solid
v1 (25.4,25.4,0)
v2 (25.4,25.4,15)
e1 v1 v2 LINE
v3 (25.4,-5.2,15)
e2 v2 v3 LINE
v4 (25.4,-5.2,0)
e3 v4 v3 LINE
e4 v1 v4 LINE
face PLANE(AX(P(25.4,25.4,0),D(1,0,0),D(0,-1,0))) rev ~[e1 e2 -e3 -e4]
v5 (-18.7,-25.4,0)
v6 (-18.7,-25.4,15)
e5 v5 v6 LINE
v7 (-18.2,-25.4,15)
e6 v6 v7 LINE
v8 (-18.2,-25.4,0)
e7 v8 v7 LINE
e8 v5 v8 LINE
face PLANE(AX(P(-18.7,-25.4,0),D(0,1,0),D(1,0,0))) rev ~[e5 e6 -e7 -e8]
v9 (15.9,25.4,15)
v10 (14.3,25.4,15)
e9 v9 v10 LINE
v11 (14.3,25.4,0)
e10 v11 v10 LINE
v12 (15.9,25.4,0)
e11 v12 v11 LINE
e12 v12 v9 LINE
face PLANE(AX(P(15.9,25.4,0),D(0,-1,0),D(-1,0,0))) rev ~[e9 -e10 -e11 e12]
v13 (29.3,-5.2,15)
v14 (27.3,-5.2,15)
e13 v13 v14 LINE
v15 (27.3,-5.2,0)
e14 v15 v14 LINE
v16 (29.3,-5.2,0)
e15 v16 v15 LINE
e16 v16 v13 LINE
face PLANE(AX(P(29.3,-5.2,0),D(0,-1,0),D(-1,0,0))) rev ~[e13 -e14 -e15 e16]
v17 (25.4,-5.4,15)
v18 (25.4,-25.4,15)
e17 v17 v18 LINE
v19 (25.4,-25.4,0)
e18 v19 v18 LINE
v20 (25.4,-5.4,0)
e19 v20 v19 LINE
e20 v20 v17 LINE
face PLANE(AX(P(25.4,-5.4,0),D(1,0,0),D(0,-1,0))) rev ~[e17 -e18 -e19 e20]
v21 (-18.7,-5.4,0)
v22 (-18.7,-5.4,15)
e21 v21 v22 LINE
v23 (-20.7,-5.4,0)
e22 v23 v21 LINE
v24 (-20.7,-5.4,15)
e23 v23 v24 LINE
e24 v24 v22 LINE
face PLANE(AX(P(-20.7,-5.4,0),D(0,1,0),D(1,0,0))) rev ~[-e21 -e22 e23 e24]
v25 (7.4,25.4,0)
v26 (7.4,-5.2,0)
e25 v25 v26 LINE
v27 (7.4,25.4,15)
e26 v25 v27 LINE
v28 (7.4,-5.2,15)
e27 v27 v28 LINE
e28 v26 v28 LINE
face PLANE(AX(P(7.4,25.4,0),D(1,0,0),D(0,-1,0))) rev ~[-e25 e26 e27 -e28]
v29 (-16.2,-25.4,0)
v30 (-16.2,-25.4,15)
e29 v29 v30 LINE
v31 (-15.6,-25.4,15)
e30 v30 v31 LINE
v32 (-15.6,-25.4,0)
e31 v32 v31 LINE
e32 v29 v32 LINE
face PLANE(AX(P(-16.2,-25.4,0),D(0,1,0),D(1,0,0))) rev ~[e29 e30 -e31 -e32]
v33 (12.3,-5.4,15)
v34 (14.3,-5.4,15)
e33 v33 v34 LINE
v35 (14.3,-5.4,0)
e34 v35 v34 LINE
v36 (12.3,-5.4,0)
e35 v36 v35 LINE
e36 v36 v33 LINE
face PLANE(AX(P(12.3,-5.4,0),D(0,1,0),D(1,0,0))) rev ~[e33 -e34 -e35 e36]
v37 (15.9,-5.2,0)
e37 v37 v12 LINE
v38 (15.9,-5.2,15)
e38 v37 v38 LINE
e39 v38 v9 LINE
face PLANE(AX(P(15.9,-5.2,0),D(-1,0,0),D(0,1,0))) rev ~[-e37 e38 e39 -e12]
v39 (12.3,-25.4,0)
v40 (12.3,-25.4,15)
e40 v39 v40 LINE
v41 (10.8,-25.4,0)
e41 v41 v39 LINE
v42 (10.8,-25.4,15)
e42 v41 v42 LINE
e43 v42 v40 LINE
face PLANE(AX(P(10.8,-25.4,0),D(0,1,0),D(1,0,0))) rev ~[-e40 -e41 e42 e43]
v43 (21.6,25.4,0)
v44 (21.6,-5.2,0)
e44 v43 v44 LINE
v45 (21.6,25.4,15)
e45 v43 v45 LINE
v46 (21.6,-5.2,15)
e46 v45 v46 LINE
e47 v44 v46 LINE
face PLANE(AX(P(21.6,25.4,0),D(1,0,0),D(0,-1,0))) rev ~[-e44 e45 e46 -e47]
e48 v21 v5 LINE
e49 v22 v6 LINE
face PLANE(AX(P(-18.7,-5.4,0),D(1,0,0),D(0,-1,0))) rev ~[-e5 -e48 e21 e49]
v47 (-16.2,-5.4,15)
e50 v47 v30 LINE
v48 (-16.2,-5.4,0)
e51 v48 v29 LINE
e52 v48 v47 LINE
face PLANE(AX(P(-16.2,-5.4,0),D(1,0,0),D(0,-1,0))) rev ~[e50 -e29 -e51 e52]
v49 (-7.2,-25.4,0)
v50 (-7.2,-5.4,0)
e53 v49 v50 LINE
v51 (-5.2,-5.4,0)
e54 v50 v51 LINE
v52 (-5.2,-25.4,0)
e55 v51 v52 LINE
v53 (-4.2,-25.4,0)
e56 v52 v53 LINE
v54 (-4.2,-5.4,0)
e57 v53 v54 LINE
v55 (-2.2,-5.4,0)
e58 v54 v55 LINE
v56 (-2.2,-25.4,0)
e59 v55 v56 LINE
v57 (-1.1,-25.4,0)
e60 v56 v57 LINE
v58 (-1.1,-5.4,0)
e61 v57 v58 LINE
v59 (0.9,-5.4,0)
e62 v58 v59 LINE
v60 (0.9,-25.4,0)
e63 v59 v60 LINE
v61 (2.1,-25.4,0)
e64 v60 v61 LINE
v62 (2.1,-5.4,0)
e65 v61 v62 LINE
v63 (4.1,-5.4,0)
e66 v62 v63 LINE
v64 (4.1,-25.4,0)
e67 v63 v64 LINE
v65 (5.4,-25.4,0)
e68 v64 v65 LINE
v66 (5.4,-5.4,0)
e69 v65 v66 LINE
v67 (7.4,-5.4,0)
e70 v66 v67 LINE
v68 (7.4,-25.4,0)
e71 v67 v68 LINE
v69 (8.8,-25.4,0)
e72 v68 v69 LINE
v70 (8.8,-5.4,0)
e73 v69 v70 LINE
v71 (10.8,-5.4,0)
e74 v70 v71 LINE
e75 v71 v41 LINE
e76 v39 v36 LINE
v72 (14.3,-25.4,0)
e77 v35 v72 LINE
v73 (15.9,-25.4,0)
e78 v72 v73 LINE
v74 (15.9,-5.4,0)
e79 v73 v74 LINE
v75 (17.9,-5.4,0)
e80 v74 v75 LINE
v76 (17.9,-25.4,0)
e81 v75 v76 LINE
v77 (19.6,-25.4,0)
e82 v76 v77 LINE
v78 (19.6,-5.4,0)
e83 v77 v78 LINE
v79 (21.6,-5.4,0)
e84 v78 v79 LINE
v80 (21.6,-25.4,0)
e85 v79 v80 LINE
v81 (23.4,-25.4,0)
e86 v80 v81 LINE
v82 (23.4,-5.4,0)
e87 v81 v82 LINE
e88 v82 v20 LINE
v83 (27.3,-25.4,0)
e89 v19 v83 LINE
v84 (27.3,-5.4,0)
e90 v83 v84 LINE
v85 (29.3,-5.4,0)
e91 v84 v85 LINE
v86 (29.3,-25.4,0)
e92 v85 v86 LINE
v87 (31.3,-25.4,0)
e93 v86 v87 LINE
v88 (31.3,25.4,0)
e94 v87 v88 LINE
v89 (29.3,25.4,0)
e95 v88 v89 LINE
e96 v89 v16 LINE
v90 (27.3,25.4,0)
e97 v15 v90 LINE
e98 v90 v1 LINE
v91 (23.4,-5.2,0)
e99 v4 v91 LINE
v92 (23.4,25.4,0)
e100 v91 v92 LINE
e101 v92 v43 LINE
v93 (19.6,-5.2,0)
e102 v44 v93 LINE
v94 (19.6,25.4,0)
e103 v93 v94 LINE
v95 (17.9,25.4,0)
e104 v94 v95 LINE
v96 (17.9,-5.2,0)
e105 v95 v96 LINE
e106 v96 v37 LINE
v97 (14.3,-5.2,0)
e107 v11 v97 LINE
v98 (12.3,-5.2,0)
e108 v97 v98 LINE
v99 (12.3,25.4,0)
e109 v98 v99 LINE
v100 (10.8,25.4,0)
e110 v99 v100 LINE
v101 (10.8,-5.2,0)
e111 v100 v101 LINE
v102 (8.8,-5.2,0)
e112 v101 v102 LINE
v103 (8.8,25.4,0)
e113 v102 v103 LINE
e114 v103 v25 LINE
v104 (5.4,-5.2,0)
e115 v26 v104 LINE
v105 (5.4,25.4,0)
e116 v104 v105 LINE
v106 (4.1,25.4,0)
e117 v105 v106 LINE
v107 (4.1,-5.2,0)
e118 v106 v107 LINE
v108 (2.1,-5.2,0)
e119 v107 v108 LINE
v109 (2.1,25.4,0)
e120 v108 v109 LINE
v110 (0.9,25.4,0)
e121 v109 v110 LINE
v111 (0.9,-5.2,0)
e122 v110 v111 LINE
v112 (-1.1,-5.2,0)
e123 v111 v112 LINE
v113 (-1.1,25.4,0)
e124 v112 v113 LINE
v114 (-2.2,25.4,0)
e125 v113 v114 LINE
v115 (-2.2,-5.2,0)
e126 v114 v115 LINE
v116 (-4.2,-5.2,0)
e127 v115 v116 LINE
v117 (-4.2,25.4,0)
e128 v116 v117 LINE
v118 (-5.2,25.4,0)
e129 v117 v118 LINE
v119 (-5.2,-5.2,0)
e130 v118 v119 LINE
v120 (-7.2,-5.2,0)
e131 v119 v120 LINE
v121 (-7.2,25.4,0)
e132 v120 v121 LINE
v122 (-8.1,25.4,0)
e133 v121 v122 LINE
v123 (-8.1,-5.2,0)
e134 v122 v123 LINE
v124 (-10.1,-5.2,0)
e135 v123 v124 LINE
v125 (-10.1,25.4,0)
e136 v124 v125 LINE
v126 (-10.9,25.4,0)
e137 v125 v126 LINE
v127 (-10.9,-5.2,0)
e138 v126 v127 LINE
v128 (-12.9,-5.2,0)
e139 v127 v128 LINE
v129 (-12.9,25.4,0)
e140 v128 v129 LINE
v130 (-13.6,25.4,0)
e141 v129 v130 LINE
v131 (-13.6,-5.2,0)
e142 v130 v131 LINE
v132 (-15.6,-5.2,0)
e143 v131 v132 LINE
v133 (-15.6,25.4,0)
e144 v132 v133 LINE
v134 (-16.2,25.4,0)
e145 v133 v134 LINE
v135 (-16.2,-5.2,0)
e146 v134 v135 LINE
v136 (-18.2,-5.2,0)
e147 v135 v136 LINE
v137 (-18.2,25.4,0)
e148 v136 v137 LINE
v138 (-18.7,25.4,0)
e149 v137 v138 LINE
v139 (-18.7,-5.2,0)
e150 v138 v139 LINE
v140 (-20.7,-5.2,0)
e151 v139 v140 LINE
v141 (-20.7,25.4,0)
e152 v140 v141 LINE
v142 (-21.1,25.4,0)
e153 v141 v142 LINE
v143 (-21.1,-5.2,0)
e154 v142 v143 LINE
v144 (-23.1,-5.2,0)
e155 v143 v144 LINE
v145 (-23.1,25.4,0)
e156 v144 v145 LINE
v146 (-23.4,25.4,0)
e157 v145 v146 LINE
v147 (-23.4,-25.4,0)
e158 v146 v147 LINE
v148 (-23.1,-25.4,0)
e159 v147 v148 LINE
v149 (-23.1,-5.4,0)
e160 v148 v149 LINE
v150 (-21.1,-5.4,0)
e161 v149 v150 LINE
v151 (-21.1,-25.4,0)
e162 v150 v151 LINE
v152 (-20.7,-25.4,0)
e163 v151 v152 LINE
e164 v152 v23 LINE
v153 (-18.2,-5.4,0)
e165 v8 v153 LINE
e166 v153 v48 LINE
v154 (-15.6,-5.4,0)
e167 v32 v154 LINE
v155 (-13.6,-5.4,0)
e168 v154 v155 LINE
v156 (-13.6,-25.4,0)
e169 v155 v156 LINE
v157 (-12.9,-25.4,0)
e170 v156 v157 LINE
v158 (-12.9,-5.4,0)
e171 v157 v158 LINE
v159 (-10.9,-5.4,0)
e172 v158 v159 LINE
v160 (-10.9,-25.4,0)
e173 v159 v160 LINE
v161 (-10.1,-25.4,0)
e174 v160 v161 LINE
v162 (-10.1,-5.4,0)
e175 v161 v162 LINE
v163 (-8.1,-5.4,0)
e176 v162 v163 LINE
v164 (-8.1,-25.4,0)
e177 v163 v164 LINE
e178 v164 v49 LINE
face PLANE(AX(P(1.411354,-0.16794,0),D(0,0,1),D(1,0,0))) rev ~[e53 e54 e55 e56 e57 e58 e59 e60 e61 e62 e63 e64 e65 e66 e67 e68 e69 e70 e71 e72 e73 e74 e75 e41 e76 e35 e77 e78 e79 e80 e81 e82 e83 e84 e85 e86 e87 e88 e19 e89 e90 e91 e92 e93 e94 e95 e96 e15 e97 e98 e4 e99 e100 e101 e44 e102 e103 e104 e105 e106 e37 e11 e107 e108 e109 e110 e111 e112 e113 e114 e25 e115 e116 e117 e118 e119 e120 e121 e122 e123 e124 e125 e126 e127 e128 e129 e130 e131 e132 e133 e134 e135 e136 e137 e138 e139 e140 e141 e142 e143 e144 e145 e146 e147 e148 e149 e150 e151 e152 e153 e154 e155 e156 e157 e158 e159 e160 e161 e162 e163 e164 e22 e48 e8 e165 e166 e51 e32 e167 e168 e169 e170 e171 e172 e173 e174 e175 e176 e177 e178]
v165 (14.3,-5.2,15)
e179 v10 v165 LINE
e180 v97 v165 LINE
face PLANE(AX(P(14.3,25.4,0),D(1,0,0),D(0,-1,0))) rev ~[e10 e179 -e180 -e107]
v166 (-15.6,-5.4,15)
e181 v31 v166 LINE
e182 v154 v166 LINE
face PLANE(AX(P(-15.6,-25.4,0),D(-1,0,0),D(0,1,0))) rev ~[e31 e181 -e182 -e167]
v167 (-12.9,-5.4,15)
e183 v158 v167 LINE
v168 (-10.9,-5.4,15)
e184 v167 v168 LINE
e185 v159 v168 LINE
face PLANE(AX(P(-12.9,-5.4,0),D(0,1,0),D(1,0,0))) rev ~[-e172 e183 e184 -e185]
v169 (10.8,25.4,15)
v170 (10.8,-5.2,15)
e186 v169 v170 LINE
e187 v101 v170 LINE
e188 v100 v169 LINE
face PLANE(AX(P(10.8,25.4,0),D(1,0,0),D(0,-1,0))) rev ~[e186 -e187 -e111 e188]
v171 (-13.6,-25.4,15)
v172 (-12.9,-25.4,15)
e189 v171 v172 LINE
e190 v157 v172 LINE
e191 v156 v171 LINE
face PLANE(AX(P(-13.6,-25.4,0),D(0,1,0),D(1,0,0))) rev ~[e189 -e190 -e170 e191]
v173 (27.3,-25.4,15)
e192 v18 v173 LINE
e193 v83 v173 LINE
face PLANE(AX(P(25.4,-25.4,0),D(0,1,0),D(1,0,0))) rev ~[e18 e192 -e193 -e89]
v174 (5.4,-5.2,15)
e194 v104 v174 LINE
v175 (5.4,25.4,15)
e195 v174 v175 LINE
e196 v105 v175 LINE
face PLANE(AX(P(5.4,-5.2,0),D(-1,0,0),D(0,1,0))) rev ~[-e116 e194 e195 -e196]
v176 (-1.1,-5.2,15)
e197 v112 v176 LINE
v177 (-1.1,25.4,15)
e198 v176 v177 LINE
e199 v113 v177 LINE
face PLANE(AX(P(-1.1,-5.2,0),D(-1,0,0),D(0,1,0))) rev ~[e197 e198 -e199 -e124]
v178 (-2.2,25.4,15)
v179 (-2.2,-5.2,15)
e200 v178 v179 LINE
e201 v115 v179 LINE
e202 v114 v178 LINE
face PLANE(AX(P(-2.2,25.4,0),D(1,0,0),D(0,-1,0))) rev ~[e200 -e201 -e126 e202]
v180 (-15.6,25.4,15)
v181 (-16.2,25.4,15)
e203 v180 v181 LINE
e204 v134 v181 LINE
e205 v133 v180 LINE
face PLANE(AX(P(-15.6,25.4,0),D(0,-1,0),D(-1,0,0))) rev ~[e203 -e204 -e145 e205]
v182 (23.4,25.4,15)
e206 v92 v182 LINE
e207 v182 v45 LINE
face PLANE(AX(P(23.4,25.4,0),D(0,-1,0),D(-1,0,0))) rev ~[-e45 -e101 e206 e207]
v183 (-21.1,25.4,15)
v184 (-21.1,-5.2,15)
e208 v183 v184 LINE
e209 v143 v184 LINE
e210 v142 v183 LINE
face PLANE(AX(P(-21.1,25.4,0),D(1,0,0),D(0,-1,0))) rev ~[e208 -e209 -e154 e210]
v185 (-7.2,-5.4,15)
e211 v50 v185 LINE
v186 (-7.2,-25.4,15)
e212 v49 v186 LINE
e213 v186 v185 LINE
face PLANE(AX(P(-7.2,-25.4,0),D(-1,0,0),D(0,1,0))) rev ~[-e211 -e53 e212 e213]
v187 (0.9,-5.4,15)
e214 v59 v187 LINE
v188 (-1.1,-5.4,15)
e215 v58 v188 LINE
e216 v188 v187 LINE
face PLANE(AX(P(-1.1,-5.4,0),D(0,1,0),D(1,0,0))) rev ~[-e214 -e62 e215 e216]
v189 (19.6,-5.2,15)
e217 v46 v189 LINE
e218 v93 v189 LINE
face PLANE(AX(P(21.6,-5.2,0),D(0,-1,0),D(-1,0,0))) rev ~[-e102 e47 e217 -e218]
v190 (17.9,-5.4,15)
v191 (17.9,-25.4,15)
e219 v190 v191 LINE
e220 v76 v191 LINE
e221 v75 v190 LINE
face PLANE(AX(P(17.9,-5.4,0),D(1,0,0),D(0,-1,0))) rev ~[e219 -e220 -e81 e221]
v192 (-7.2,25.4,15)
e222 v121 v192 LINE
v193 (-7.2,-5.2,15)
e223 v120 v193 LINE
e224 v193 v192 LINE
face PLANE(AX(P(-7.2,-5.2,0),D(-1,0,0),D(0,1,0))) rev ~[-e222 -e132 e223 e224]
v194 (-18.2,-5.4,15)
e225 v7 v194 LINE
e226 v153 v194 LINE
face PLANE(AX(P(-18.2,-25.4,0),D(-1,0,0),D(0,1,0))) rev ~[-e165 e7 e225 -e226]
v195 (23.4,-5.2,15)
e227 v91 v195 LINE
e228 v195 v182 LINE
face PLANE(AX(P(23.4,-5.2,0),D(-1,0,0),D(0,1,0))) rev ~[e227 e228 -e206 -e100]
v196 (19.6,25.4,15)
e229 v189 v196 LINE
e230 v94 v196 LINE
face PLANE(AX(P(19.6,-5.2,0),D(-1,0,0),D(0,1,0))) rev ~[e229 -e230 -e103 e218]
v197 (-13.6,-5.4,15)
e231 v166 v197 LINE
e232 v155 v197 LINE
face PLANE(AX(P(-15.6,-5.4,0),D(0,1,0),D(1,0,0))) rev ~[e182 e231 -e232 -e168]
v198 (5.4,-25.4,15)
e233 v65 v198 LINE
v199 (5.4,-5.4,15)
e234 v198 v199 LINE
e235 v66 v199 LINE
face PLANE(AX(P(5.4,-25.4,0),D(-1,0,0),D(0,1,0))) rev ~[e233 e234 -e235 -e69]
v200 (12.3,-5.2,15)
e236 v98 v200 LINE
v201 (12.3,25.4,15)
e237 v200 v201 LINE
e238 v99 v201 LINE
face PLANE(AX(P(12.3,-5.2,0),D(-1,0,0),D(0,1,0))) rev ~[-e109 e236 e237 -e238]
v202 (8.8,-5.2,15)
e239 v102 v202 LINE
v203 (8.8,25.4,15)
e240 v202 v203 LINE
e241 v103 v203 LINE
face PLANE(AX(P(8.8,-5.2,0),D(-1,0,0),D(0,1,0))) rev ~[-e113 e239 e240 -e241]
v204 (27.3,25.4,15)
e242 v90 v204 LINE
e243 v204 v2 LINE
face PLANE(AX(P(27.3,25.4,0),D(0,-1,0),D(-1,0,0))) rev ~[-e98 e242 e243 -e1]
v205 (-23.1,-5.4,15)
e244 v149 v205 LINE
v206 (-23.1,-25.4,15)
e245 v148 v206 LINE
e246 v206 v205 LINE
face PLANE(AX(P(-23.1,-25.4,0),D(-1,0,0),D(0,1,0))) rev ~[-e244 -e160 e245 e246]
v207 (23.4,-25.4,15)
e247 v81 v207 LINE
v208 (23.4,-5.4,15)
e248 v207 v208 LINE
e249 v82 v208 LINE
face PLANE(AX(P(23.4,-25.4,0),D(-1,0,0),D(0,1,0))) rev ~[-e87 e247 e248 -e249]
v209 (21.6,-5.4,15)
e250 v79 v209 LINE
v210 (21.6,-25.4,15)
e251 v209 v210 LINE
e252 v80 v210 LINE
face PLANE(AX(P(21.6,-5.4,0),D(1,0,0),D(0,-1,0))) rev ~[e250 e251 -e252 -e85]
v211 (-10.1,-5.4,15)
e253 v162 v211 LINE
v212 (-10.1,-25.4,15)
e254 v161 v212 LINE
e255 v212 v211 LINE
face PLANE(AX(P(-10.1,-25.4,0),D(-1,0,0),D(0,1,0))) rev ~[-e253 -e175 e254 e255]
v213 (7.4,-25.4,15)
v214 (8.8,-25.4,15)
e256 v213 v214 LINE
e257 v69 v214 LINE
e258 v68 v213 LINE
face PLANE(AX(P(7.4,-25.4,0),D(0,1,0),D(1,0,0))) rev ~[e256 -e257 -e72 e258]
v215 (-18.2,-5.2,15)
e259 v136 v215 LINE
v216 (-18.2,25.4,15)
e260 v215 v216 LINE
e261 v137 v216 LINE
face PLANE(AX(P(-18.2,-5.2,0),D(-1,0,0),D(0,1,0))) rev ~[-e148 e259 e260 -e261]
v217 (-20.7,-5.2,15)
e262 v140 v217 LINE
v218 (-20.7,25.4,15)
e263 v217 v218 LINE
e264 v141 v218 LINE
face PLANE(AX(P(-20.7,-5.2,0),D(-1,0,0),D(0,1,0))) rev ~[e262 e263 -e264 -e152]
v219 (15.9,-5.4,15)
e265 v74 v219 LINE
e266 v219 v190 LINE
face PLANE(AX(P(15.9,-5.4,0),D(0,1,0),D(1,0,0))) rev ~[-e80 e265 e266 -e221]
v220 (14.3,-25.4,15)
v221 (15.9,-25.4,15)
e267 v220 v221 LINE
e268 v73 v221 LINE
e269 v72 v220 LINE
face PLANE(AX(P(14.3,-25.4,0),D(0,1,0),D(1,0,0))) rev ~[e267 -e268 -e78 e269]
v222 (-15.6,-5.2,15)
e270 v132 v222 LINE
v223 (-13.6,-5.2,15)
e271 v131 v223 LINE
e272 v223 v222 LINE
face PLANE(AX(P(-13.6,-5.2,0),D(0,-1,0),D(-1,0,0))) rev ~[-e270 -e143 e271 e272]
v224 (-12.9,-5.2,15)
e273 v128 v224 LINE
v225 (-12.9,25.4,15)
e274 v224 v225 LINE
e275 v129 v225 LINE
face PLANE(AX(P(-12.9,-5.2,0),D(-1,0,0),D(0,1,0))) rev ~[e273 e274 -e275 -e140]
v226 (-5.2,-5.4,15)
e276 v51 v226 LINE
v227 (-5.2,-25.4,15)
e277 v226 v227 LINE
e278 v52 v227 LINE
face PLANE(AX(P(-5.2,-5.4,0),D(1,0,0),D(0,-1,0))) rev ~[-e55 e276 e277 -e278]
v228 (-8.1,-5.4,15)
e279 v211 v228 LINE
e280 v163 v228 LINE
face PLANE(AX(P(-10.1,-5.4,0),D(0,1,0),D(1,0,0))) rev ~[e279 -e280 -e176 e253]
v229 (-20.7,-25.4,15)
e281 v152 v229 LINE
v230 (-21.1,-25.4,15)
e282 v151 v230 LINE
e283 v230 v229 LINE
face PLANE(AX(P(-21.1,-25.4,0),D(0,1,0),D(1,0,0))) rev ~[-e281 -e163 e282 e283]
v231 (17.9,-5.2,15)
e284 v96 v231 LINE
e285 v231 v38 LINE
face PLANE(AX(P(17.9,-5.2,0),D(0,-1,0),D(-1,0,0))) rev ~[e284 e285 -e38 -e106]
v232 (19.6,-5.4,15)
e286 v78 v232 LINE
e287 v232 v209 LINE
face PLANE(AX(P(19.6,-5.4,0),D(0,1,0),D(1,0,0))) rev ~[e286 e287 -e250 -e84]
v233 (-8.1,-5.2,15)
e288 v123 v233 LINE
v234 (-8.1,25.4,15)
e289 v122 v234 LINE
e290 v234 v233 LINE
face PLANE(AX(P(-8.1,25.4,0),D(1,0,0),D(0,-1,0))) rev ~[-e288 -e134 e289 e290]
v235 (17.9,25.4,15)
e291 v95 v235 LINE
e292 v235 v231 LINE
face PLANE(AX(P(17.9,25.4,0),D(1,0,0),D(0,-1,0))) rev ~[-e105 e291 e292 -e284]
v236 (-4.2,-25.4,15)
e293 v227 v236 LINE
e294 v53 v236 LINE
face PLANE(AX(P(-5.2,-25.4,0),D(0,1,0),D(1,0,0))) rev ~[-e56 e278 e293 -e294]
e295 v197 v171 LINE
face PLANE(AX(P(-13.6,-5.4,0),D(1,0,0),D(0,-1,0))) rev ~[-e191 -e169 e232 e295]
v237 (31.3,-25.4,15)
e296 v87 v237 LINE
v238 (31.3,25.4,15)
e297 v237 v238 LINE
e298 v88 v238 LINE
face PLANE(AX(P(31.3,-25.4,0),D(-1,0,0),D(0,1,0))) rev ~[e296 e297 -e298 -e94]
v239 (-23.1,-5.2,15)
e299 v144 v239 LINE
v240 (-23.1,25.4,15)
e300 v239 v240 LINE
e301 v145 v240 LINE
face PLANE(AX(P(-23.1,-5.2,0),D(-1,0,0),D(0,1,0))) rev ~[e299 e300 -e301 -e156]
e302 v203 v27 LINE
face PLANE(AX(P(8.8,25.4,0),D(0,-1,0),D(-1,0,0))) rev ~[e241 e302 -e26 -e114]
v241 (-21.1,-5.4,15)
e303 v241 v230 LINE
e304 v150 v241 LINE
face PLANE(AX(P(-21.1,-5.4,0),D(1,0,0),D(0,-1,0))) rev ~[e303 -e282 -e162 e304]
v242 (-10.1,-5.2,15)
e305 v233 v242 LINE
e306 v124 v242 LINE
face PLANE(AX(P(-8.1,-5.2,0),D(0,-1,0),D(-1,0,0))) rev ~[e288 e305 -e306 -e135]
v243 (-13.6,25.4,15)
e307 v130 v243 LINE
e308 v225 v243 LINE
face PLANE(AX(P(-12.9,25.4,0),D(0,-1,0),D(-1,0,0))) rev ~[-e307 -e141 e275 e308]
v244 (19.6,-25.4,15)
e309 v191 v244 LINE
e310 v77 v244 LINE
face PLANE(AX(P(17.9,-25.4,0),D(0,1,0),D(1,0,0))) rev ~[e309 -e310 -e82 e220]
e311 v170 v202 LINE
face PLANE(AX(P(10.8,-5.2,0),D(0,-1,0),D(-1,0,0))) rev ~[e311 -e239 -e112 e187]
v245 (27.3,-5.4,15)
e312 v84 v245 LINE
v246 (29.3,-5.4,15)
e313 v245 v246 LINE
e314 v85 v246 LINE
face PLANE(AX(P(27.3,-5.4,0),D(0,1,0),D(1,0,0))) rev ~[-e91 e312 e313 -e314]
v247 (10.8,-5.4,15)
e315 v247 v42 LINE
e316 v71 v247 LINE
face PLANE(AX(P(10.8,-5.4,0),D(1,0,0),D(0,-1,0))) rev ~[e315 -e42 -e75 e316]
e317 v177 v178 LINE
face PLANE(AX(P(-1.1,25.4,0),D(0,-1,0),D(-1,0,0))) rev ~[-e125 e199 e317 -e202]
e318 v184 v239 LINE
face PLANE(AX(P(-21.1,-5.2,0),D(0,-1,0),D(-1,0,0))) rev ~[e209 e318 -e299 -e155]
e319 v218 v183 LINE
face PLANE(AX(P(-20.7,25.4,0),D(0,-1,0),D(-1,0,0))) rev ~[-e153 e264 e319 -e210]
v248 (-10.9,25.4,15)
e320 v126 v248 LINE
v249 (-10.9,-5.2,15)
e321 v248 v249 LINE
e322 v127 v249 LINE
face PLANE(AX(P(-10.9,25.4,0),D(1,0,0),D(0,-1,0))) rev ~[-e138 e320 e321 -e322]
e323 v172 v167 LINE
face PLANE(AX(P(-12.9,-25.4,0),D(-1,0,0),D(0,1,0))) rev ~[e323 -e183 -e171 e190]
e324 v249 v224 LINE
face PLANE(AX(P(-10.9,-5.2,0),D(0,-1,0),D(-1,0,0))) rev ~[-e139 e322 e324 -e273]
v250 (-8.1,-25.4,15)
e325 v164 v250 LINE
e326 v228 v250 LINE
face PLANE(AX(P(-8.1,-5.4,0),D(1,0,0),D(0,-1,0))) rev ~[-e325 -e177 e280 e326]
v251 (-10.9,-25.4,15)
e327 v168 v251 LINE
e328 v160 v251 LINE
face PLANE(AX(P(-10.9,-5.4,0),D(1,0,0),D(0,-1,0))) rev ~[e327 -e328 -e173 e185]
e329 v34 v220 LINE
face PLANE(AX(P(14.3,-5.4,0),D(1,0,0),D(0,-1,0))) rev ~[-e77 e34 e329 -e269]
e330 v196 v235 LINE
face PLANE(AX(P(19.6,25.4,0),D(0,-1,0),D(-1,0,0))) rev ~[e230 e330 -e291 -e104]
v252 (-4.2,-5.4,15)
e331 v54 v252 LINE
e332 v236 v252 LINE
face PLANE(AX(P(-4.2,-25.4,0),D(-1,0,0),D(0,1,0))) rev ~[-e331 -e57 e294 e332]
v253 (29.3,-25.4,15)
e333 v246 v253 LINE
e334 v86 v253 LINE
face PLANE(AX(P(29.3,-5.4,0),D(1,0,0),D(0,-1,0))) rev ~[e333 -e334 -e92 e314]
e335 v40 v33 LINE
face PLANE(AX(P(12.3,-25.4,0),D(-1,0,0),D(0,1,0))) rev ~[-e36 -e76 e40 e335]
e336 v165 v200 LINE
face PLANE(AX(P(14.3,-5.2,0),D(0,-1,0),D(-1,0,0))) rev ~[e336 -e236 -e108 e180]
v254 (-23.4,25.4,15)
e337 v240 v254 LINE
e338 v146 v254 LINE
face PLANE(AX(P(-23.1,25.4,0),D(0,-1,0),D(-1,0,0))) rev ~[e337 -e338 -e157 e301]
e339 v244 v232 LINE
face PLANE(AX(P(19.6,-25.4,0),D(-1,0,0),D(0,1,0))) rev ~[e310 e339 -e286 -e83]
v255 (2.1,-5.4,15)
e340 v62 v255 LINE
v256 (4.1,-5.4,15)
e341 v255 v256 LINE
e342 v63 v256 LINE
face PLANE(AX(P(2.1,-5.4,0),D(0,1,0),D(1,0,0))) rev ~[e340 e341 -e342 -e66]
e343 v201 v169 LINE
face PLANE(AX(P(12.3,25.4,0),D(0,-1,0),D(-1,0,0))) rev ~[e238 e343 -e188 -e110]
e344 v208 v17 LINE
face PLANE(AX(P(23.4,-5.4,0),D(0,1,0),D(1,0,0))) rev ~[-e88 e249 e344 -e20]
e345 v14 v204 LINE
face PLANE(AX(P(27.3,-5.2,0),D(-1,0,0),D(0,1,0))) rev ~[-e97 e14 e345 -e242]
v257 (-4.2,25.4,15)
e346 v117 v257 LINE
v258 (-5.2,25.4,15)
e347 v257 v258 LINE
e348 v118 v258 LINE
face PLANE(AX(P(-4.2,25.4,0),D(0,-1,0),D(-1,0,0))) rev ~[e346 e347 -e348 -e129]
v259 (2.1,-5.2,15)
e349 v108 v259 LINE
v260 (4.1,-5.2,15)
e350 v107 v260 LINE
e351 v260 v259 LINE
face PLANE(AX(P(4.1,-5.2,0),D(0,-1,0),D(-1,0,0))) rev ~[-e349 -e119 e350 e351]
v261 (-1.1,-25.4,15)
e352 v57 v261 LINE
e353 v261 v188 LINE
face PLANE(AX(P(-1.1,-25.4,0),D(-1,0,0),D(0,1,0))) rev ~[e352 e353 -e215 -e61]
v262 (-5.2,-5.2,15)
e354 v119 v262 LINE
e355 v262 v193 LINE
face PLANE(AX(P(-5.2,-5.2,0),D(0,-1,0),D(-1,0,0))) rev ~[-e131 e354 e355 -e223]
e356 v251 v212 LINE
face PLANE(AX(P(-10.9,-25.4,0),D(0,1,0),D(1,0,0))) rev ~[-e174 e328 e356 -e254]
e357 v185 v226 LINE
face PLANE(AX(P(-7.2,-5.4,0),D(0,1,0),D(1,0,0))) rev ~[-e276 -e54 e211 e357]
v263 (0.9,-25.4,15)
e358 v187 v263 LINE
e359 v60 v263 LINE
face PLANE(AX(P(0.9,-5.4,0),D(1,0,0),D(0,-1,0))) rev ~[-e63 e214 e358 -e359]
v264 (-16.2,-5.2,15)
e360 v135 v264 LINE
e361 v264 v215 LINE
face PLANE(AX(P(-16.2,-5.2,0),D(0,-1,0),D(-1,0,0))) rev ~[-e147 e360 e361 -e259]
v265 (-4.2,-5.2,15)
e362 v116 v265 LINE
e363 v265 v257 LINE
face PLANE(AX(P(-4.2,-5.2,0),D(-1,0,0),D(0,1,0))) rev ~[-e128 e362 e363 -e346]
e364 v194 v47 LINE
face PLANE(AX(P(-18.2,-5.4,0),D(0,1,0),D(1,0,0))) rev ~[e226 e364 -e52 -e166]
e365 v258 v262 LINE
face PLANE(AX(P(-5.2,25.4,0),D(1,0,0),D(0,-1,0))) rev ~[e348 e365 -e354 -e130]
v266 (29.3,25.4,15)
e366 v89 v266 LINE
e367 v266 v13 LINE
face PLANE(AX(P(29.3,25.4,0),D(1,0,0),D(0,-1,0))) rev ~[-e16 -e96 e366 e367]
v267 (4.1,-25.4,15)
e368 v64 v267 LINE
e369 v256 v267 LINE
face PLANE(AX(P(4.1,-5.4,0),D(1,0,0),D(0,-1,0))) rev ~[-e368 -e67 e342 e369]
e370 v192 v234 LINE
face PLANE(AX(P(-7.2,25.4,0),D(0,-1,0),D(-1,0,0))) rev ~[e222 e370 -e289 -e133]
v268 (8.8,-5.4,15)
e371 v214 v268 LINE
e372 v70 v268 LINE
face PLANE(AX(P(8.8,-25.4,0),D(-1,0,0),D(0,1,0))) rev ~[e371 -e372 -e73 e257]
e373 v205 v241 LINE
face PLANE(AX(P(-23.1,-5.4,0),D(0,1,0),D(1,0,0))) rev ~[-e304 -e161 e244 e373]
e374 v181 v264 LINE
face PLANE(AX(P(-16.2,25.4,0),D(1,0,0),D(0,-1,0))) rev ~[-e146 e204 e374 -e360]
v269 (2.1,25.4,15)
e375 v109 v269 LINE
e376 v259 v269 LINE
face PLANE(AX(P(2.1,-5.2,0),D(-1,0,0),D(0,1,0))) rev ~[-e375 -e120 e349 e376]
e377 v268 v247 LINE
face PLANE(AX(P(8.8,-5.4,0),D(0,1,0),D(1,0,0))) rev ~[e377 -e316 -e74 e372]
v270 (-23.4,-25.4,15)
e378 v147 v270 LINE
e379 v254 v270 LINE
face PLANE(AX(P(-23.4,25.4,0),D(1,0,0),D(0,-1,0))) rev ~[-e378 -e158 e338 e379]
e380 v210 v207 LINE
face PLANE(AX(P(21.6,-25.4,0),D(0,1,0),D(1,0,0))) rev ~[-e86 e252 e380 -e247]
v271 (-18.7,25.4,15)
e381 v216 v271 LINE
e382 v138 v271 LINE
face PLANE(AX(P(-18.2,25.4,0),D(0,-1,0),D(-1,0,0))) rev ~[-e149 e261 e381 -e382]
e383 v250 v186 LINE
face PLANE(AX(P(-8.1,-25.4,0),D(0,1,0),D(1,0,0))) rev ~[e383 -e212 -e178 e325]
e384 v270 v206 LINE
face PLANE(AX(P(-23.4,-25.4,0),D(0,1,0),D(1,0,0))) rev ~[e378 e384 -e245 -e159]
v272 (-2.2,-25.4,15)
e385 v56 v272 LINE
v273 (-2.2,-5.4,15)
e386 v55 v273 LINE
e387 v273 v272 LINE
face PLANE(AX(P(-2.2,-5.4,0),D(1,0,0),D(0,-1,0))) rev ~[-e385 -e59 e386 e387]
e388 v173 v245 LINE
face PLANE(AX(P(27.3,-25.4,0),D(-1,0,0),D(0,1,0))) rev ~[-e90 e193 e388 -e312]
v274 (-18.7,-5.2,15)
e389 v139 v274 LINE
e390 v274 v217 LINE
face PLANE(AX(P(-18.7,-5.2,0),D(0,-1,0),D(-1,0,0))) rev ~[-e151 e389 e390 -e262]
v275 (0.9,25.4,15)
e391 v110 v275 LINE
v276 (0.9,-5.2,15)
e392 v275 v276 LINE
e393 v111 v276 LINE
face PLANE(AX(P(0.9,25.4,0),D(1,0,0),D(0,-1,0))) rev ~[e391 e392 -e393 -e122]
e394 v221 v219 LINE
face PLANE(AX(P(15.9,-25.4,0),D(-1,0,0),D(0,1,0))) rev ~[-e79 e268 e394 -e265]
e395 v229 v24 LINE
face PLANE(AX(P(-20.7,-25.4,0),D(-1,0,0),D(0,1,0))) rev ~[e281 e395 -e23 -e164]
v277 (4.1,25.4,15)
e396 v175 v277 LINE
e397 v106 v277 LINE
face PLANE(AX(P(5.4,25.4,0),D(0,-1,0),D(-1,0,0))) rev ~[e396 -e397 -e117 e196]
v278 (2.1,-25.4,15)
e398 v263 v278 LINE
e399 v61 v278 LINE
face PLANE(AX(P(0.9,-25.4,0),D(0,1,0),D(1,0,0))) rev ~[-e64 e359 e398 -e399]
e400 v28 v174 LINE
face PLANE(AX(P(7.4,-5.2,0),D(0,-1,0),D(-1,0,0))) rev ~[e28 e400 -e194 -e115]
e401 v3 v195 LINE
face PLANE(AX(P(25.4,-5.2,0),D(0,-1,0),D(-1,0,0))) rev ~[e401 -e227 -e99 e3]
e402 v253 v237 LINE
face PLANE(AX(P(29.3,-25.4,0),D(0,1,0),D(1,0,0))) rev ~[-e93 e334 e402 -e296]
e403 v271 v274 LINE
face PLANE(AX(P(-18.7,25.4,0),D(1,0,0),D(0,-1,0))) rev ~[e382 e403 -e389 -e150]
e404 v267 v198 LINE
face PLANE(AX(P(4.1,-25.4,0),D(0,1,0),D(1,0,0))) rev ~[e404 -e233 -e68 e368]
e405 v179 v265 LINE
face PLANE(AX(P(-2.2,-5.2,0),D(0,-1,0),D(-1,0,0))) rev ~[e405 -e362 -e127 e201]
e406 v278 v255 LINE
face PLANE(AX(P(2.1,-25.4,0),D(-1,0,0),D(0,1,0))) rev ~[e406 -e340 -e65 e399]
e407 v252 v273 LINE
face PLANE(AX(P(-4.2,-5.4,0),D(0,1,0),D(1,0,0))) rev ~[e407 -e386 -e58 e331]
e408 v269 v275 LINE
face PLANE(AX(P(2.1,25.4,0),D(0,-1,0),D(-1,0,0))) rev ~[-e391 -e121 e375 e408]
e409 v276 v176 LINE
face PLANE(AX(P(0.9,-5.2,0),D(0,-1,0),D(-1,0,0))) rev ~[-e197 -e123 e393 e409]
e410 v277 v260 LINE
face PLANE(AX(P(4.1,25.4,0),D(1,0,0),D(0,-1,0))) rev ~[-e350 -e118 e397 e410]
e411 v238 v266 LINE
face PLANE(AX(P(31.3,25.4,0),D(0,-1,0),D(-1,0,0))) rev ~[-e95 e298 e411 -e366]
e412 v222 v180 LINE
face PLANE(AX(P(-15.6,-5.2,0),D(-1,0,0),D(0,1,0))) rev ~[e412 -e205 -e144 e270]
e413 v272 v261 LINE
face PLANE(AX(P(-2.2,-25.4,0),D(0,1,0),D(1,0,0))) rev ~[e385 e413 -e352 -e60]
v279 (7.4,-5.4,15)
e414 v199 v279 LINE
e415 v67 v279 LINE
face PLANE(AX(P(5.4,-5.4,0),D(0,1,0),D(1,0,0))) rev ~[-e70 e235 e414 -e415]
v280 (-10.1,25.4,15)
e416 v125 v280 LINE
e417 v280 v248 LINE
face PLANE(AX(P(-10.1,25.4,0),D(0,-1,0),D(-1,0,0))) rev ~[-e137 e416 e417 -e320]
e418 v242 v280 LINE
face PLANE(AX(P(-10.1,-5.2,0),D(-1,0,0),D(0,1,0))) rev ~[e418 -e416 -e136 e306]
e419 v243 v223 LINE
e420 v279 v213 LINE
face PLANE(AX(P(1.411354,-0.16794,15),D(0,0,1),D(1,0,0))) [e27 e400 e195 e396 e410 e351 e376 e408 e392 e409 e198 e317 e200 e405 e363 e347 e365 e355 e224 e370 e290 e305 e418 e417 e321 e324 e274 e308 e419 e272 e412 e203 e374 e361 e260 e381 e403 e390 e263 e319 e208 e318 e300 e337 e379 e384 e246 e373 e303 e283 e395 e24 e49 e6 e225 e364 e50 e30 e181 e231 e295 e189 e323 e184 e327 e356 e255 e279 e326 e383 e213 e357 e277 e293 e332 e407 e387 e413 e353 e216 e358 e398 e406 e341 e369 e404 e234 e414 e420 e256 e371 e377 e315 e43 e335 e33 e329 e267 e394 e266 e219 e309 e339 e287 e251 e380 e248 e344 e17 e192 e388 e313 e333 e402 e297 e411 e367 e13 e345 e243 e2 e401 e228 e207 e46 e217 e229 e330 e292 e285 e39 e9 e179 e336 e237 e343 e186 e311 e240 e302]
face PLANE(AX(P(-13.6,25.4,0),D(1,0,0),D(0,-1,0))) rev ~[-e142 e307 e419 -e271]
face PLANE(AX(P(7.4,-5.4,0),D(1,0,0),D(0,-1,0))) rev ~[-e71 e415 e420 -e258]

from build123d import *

# Parameters (mm, degrees)
F1_DEPTH = 15


with BuildPart() as f1:
    # F0 (on Top) → F1 (new body)
    with BuildSketch(Plane.XY):
        Polygon((-23.1, 25.4), (-23.4, 25.4), (-23.4, -25.4), (-23.1, -25.4), (-23.1, -5.4), (-21.1, -5.4), (-21.1, -25.4), (-20.7, -25.4), (-20.7, -5.4), (-18.7, -5.4), (-18.7, -25.4), (-18.2, -25.4), (-18.2, -5.4), (-16.2, -5.4), (-16.2, -25.4), (-15.6, -25.4), (-15.6, -5.4), (-13.6, -5.4), (-13.6, -25.4), (-12.9, -25.4), (-12.9, -5.4), (-10.9, -5.4), (-10.9, -25.4), (-10.1, -25.4), (-10.1, -5.4), (-8.1, -5.4), (-8.1, -25.4), (-7.2, -25.4), (-7.2, -5.4), (-5.2, -5.4), (-5.2, -25.4), (-4.2, -25.4), (-4.2, -5.4), (-2.2, -5.4), (-2.2, -25.4), (-1.1, -25.4), (-1.1, -5.4), (0.9, -5.4), (0.9, -25.4), (2.1, -25.4), (2.1, -5.4), (4.1, -5.4), (4.1, -25.4), (5.4, -25.4), (5.4, -5.4), (7.4, -5.4), (7.4, -25.4), (8.8, -25.4), (8.8, -5.4), (10.8, -5.4), (10.8, -25.4), (12.3, -25.4), (12.3, -5.4), (14.3, -5.4), (14.3, -25.4), (15.9, -25.4), (15.9, -5.4), (17.9, -5.4), (17.9, -25.4), (19.6, -25.4), (19.6, -5.4), (21.6, -5.4), (21.6, -25.4), (23.4, -25.4), (23.4, -5.4), (25.4, -5.4), (25.4, -25.4), (27.3, -25.4), (27.3, -5.4), (29.3, -5.4), (29.3, -25.4), (31.3, -25.4), (31.3, -5.4), (31.3, -5.2), (31.3, 25.4), (29.3, 25.4), (29.3, -5.2), (27.3, -5.2), (27.3, 25.4), (25.4, 25.4), (25.4, -5.2), (23.4, -5.2), (23.4, 25.4), (21.6, 25.4), (21.6, -5.2), (19.6, -5.2), (19.6, 25.4), (17.9, 25.4), (17.9, -5.2), (15.9, -5.2), (15.9, 25.4), (14.3, 25.4), (14.3, -5.2), (12.3, -5.2), (12.3, 25.4), (10.8, 25.4), (10.8, -5.2), (8.8, -5.2), (8.8, 25.4), (7.4, 25.4), (7.4, -5.2), (5.4, -5.2), (5.4, 25.4), (4.1, 25.4), (4.1, -5.2), (2.1, -5.2), (2.1, 25.4), (0.9, 25.4), (0.9, -5.2), (-1.1, -5.2), (-1.1, 25.4), (-2.2, 25.4), (-2.2, -5.2), (-4.2, -5.2), (-4.2, 25.4), (-5.2, 25.4), (-5.2, -5.2), (-7.2, -5.2), (-7.2, 25.4), (-8.1, 25.4), (-8.1, -5.2), (-10.1, -5.2), (-10.1, 25.4), (-10.9, 25.4), (-10.9, -5.2), (-12.9, -5.2), (-12.9, 25.4), (-13.6, 25.4), (-13.6, -5.2), (-15.6, -5.2), (-15.6, 25.4), (-16.2, 25.4), (-16.2, -5.2), (-18.2, -5.2), (-18.2, 25.4), (-18.7, 25.4), (-18.7, -5.2), (-20.7, -5.2), (-20.7, 25.4), (-21.1, 25.4), (-21.1, -5.2), (-23.1, -5.2), align=None)
    extrude(amount=F1_DEPTH)


solid = f1.part
